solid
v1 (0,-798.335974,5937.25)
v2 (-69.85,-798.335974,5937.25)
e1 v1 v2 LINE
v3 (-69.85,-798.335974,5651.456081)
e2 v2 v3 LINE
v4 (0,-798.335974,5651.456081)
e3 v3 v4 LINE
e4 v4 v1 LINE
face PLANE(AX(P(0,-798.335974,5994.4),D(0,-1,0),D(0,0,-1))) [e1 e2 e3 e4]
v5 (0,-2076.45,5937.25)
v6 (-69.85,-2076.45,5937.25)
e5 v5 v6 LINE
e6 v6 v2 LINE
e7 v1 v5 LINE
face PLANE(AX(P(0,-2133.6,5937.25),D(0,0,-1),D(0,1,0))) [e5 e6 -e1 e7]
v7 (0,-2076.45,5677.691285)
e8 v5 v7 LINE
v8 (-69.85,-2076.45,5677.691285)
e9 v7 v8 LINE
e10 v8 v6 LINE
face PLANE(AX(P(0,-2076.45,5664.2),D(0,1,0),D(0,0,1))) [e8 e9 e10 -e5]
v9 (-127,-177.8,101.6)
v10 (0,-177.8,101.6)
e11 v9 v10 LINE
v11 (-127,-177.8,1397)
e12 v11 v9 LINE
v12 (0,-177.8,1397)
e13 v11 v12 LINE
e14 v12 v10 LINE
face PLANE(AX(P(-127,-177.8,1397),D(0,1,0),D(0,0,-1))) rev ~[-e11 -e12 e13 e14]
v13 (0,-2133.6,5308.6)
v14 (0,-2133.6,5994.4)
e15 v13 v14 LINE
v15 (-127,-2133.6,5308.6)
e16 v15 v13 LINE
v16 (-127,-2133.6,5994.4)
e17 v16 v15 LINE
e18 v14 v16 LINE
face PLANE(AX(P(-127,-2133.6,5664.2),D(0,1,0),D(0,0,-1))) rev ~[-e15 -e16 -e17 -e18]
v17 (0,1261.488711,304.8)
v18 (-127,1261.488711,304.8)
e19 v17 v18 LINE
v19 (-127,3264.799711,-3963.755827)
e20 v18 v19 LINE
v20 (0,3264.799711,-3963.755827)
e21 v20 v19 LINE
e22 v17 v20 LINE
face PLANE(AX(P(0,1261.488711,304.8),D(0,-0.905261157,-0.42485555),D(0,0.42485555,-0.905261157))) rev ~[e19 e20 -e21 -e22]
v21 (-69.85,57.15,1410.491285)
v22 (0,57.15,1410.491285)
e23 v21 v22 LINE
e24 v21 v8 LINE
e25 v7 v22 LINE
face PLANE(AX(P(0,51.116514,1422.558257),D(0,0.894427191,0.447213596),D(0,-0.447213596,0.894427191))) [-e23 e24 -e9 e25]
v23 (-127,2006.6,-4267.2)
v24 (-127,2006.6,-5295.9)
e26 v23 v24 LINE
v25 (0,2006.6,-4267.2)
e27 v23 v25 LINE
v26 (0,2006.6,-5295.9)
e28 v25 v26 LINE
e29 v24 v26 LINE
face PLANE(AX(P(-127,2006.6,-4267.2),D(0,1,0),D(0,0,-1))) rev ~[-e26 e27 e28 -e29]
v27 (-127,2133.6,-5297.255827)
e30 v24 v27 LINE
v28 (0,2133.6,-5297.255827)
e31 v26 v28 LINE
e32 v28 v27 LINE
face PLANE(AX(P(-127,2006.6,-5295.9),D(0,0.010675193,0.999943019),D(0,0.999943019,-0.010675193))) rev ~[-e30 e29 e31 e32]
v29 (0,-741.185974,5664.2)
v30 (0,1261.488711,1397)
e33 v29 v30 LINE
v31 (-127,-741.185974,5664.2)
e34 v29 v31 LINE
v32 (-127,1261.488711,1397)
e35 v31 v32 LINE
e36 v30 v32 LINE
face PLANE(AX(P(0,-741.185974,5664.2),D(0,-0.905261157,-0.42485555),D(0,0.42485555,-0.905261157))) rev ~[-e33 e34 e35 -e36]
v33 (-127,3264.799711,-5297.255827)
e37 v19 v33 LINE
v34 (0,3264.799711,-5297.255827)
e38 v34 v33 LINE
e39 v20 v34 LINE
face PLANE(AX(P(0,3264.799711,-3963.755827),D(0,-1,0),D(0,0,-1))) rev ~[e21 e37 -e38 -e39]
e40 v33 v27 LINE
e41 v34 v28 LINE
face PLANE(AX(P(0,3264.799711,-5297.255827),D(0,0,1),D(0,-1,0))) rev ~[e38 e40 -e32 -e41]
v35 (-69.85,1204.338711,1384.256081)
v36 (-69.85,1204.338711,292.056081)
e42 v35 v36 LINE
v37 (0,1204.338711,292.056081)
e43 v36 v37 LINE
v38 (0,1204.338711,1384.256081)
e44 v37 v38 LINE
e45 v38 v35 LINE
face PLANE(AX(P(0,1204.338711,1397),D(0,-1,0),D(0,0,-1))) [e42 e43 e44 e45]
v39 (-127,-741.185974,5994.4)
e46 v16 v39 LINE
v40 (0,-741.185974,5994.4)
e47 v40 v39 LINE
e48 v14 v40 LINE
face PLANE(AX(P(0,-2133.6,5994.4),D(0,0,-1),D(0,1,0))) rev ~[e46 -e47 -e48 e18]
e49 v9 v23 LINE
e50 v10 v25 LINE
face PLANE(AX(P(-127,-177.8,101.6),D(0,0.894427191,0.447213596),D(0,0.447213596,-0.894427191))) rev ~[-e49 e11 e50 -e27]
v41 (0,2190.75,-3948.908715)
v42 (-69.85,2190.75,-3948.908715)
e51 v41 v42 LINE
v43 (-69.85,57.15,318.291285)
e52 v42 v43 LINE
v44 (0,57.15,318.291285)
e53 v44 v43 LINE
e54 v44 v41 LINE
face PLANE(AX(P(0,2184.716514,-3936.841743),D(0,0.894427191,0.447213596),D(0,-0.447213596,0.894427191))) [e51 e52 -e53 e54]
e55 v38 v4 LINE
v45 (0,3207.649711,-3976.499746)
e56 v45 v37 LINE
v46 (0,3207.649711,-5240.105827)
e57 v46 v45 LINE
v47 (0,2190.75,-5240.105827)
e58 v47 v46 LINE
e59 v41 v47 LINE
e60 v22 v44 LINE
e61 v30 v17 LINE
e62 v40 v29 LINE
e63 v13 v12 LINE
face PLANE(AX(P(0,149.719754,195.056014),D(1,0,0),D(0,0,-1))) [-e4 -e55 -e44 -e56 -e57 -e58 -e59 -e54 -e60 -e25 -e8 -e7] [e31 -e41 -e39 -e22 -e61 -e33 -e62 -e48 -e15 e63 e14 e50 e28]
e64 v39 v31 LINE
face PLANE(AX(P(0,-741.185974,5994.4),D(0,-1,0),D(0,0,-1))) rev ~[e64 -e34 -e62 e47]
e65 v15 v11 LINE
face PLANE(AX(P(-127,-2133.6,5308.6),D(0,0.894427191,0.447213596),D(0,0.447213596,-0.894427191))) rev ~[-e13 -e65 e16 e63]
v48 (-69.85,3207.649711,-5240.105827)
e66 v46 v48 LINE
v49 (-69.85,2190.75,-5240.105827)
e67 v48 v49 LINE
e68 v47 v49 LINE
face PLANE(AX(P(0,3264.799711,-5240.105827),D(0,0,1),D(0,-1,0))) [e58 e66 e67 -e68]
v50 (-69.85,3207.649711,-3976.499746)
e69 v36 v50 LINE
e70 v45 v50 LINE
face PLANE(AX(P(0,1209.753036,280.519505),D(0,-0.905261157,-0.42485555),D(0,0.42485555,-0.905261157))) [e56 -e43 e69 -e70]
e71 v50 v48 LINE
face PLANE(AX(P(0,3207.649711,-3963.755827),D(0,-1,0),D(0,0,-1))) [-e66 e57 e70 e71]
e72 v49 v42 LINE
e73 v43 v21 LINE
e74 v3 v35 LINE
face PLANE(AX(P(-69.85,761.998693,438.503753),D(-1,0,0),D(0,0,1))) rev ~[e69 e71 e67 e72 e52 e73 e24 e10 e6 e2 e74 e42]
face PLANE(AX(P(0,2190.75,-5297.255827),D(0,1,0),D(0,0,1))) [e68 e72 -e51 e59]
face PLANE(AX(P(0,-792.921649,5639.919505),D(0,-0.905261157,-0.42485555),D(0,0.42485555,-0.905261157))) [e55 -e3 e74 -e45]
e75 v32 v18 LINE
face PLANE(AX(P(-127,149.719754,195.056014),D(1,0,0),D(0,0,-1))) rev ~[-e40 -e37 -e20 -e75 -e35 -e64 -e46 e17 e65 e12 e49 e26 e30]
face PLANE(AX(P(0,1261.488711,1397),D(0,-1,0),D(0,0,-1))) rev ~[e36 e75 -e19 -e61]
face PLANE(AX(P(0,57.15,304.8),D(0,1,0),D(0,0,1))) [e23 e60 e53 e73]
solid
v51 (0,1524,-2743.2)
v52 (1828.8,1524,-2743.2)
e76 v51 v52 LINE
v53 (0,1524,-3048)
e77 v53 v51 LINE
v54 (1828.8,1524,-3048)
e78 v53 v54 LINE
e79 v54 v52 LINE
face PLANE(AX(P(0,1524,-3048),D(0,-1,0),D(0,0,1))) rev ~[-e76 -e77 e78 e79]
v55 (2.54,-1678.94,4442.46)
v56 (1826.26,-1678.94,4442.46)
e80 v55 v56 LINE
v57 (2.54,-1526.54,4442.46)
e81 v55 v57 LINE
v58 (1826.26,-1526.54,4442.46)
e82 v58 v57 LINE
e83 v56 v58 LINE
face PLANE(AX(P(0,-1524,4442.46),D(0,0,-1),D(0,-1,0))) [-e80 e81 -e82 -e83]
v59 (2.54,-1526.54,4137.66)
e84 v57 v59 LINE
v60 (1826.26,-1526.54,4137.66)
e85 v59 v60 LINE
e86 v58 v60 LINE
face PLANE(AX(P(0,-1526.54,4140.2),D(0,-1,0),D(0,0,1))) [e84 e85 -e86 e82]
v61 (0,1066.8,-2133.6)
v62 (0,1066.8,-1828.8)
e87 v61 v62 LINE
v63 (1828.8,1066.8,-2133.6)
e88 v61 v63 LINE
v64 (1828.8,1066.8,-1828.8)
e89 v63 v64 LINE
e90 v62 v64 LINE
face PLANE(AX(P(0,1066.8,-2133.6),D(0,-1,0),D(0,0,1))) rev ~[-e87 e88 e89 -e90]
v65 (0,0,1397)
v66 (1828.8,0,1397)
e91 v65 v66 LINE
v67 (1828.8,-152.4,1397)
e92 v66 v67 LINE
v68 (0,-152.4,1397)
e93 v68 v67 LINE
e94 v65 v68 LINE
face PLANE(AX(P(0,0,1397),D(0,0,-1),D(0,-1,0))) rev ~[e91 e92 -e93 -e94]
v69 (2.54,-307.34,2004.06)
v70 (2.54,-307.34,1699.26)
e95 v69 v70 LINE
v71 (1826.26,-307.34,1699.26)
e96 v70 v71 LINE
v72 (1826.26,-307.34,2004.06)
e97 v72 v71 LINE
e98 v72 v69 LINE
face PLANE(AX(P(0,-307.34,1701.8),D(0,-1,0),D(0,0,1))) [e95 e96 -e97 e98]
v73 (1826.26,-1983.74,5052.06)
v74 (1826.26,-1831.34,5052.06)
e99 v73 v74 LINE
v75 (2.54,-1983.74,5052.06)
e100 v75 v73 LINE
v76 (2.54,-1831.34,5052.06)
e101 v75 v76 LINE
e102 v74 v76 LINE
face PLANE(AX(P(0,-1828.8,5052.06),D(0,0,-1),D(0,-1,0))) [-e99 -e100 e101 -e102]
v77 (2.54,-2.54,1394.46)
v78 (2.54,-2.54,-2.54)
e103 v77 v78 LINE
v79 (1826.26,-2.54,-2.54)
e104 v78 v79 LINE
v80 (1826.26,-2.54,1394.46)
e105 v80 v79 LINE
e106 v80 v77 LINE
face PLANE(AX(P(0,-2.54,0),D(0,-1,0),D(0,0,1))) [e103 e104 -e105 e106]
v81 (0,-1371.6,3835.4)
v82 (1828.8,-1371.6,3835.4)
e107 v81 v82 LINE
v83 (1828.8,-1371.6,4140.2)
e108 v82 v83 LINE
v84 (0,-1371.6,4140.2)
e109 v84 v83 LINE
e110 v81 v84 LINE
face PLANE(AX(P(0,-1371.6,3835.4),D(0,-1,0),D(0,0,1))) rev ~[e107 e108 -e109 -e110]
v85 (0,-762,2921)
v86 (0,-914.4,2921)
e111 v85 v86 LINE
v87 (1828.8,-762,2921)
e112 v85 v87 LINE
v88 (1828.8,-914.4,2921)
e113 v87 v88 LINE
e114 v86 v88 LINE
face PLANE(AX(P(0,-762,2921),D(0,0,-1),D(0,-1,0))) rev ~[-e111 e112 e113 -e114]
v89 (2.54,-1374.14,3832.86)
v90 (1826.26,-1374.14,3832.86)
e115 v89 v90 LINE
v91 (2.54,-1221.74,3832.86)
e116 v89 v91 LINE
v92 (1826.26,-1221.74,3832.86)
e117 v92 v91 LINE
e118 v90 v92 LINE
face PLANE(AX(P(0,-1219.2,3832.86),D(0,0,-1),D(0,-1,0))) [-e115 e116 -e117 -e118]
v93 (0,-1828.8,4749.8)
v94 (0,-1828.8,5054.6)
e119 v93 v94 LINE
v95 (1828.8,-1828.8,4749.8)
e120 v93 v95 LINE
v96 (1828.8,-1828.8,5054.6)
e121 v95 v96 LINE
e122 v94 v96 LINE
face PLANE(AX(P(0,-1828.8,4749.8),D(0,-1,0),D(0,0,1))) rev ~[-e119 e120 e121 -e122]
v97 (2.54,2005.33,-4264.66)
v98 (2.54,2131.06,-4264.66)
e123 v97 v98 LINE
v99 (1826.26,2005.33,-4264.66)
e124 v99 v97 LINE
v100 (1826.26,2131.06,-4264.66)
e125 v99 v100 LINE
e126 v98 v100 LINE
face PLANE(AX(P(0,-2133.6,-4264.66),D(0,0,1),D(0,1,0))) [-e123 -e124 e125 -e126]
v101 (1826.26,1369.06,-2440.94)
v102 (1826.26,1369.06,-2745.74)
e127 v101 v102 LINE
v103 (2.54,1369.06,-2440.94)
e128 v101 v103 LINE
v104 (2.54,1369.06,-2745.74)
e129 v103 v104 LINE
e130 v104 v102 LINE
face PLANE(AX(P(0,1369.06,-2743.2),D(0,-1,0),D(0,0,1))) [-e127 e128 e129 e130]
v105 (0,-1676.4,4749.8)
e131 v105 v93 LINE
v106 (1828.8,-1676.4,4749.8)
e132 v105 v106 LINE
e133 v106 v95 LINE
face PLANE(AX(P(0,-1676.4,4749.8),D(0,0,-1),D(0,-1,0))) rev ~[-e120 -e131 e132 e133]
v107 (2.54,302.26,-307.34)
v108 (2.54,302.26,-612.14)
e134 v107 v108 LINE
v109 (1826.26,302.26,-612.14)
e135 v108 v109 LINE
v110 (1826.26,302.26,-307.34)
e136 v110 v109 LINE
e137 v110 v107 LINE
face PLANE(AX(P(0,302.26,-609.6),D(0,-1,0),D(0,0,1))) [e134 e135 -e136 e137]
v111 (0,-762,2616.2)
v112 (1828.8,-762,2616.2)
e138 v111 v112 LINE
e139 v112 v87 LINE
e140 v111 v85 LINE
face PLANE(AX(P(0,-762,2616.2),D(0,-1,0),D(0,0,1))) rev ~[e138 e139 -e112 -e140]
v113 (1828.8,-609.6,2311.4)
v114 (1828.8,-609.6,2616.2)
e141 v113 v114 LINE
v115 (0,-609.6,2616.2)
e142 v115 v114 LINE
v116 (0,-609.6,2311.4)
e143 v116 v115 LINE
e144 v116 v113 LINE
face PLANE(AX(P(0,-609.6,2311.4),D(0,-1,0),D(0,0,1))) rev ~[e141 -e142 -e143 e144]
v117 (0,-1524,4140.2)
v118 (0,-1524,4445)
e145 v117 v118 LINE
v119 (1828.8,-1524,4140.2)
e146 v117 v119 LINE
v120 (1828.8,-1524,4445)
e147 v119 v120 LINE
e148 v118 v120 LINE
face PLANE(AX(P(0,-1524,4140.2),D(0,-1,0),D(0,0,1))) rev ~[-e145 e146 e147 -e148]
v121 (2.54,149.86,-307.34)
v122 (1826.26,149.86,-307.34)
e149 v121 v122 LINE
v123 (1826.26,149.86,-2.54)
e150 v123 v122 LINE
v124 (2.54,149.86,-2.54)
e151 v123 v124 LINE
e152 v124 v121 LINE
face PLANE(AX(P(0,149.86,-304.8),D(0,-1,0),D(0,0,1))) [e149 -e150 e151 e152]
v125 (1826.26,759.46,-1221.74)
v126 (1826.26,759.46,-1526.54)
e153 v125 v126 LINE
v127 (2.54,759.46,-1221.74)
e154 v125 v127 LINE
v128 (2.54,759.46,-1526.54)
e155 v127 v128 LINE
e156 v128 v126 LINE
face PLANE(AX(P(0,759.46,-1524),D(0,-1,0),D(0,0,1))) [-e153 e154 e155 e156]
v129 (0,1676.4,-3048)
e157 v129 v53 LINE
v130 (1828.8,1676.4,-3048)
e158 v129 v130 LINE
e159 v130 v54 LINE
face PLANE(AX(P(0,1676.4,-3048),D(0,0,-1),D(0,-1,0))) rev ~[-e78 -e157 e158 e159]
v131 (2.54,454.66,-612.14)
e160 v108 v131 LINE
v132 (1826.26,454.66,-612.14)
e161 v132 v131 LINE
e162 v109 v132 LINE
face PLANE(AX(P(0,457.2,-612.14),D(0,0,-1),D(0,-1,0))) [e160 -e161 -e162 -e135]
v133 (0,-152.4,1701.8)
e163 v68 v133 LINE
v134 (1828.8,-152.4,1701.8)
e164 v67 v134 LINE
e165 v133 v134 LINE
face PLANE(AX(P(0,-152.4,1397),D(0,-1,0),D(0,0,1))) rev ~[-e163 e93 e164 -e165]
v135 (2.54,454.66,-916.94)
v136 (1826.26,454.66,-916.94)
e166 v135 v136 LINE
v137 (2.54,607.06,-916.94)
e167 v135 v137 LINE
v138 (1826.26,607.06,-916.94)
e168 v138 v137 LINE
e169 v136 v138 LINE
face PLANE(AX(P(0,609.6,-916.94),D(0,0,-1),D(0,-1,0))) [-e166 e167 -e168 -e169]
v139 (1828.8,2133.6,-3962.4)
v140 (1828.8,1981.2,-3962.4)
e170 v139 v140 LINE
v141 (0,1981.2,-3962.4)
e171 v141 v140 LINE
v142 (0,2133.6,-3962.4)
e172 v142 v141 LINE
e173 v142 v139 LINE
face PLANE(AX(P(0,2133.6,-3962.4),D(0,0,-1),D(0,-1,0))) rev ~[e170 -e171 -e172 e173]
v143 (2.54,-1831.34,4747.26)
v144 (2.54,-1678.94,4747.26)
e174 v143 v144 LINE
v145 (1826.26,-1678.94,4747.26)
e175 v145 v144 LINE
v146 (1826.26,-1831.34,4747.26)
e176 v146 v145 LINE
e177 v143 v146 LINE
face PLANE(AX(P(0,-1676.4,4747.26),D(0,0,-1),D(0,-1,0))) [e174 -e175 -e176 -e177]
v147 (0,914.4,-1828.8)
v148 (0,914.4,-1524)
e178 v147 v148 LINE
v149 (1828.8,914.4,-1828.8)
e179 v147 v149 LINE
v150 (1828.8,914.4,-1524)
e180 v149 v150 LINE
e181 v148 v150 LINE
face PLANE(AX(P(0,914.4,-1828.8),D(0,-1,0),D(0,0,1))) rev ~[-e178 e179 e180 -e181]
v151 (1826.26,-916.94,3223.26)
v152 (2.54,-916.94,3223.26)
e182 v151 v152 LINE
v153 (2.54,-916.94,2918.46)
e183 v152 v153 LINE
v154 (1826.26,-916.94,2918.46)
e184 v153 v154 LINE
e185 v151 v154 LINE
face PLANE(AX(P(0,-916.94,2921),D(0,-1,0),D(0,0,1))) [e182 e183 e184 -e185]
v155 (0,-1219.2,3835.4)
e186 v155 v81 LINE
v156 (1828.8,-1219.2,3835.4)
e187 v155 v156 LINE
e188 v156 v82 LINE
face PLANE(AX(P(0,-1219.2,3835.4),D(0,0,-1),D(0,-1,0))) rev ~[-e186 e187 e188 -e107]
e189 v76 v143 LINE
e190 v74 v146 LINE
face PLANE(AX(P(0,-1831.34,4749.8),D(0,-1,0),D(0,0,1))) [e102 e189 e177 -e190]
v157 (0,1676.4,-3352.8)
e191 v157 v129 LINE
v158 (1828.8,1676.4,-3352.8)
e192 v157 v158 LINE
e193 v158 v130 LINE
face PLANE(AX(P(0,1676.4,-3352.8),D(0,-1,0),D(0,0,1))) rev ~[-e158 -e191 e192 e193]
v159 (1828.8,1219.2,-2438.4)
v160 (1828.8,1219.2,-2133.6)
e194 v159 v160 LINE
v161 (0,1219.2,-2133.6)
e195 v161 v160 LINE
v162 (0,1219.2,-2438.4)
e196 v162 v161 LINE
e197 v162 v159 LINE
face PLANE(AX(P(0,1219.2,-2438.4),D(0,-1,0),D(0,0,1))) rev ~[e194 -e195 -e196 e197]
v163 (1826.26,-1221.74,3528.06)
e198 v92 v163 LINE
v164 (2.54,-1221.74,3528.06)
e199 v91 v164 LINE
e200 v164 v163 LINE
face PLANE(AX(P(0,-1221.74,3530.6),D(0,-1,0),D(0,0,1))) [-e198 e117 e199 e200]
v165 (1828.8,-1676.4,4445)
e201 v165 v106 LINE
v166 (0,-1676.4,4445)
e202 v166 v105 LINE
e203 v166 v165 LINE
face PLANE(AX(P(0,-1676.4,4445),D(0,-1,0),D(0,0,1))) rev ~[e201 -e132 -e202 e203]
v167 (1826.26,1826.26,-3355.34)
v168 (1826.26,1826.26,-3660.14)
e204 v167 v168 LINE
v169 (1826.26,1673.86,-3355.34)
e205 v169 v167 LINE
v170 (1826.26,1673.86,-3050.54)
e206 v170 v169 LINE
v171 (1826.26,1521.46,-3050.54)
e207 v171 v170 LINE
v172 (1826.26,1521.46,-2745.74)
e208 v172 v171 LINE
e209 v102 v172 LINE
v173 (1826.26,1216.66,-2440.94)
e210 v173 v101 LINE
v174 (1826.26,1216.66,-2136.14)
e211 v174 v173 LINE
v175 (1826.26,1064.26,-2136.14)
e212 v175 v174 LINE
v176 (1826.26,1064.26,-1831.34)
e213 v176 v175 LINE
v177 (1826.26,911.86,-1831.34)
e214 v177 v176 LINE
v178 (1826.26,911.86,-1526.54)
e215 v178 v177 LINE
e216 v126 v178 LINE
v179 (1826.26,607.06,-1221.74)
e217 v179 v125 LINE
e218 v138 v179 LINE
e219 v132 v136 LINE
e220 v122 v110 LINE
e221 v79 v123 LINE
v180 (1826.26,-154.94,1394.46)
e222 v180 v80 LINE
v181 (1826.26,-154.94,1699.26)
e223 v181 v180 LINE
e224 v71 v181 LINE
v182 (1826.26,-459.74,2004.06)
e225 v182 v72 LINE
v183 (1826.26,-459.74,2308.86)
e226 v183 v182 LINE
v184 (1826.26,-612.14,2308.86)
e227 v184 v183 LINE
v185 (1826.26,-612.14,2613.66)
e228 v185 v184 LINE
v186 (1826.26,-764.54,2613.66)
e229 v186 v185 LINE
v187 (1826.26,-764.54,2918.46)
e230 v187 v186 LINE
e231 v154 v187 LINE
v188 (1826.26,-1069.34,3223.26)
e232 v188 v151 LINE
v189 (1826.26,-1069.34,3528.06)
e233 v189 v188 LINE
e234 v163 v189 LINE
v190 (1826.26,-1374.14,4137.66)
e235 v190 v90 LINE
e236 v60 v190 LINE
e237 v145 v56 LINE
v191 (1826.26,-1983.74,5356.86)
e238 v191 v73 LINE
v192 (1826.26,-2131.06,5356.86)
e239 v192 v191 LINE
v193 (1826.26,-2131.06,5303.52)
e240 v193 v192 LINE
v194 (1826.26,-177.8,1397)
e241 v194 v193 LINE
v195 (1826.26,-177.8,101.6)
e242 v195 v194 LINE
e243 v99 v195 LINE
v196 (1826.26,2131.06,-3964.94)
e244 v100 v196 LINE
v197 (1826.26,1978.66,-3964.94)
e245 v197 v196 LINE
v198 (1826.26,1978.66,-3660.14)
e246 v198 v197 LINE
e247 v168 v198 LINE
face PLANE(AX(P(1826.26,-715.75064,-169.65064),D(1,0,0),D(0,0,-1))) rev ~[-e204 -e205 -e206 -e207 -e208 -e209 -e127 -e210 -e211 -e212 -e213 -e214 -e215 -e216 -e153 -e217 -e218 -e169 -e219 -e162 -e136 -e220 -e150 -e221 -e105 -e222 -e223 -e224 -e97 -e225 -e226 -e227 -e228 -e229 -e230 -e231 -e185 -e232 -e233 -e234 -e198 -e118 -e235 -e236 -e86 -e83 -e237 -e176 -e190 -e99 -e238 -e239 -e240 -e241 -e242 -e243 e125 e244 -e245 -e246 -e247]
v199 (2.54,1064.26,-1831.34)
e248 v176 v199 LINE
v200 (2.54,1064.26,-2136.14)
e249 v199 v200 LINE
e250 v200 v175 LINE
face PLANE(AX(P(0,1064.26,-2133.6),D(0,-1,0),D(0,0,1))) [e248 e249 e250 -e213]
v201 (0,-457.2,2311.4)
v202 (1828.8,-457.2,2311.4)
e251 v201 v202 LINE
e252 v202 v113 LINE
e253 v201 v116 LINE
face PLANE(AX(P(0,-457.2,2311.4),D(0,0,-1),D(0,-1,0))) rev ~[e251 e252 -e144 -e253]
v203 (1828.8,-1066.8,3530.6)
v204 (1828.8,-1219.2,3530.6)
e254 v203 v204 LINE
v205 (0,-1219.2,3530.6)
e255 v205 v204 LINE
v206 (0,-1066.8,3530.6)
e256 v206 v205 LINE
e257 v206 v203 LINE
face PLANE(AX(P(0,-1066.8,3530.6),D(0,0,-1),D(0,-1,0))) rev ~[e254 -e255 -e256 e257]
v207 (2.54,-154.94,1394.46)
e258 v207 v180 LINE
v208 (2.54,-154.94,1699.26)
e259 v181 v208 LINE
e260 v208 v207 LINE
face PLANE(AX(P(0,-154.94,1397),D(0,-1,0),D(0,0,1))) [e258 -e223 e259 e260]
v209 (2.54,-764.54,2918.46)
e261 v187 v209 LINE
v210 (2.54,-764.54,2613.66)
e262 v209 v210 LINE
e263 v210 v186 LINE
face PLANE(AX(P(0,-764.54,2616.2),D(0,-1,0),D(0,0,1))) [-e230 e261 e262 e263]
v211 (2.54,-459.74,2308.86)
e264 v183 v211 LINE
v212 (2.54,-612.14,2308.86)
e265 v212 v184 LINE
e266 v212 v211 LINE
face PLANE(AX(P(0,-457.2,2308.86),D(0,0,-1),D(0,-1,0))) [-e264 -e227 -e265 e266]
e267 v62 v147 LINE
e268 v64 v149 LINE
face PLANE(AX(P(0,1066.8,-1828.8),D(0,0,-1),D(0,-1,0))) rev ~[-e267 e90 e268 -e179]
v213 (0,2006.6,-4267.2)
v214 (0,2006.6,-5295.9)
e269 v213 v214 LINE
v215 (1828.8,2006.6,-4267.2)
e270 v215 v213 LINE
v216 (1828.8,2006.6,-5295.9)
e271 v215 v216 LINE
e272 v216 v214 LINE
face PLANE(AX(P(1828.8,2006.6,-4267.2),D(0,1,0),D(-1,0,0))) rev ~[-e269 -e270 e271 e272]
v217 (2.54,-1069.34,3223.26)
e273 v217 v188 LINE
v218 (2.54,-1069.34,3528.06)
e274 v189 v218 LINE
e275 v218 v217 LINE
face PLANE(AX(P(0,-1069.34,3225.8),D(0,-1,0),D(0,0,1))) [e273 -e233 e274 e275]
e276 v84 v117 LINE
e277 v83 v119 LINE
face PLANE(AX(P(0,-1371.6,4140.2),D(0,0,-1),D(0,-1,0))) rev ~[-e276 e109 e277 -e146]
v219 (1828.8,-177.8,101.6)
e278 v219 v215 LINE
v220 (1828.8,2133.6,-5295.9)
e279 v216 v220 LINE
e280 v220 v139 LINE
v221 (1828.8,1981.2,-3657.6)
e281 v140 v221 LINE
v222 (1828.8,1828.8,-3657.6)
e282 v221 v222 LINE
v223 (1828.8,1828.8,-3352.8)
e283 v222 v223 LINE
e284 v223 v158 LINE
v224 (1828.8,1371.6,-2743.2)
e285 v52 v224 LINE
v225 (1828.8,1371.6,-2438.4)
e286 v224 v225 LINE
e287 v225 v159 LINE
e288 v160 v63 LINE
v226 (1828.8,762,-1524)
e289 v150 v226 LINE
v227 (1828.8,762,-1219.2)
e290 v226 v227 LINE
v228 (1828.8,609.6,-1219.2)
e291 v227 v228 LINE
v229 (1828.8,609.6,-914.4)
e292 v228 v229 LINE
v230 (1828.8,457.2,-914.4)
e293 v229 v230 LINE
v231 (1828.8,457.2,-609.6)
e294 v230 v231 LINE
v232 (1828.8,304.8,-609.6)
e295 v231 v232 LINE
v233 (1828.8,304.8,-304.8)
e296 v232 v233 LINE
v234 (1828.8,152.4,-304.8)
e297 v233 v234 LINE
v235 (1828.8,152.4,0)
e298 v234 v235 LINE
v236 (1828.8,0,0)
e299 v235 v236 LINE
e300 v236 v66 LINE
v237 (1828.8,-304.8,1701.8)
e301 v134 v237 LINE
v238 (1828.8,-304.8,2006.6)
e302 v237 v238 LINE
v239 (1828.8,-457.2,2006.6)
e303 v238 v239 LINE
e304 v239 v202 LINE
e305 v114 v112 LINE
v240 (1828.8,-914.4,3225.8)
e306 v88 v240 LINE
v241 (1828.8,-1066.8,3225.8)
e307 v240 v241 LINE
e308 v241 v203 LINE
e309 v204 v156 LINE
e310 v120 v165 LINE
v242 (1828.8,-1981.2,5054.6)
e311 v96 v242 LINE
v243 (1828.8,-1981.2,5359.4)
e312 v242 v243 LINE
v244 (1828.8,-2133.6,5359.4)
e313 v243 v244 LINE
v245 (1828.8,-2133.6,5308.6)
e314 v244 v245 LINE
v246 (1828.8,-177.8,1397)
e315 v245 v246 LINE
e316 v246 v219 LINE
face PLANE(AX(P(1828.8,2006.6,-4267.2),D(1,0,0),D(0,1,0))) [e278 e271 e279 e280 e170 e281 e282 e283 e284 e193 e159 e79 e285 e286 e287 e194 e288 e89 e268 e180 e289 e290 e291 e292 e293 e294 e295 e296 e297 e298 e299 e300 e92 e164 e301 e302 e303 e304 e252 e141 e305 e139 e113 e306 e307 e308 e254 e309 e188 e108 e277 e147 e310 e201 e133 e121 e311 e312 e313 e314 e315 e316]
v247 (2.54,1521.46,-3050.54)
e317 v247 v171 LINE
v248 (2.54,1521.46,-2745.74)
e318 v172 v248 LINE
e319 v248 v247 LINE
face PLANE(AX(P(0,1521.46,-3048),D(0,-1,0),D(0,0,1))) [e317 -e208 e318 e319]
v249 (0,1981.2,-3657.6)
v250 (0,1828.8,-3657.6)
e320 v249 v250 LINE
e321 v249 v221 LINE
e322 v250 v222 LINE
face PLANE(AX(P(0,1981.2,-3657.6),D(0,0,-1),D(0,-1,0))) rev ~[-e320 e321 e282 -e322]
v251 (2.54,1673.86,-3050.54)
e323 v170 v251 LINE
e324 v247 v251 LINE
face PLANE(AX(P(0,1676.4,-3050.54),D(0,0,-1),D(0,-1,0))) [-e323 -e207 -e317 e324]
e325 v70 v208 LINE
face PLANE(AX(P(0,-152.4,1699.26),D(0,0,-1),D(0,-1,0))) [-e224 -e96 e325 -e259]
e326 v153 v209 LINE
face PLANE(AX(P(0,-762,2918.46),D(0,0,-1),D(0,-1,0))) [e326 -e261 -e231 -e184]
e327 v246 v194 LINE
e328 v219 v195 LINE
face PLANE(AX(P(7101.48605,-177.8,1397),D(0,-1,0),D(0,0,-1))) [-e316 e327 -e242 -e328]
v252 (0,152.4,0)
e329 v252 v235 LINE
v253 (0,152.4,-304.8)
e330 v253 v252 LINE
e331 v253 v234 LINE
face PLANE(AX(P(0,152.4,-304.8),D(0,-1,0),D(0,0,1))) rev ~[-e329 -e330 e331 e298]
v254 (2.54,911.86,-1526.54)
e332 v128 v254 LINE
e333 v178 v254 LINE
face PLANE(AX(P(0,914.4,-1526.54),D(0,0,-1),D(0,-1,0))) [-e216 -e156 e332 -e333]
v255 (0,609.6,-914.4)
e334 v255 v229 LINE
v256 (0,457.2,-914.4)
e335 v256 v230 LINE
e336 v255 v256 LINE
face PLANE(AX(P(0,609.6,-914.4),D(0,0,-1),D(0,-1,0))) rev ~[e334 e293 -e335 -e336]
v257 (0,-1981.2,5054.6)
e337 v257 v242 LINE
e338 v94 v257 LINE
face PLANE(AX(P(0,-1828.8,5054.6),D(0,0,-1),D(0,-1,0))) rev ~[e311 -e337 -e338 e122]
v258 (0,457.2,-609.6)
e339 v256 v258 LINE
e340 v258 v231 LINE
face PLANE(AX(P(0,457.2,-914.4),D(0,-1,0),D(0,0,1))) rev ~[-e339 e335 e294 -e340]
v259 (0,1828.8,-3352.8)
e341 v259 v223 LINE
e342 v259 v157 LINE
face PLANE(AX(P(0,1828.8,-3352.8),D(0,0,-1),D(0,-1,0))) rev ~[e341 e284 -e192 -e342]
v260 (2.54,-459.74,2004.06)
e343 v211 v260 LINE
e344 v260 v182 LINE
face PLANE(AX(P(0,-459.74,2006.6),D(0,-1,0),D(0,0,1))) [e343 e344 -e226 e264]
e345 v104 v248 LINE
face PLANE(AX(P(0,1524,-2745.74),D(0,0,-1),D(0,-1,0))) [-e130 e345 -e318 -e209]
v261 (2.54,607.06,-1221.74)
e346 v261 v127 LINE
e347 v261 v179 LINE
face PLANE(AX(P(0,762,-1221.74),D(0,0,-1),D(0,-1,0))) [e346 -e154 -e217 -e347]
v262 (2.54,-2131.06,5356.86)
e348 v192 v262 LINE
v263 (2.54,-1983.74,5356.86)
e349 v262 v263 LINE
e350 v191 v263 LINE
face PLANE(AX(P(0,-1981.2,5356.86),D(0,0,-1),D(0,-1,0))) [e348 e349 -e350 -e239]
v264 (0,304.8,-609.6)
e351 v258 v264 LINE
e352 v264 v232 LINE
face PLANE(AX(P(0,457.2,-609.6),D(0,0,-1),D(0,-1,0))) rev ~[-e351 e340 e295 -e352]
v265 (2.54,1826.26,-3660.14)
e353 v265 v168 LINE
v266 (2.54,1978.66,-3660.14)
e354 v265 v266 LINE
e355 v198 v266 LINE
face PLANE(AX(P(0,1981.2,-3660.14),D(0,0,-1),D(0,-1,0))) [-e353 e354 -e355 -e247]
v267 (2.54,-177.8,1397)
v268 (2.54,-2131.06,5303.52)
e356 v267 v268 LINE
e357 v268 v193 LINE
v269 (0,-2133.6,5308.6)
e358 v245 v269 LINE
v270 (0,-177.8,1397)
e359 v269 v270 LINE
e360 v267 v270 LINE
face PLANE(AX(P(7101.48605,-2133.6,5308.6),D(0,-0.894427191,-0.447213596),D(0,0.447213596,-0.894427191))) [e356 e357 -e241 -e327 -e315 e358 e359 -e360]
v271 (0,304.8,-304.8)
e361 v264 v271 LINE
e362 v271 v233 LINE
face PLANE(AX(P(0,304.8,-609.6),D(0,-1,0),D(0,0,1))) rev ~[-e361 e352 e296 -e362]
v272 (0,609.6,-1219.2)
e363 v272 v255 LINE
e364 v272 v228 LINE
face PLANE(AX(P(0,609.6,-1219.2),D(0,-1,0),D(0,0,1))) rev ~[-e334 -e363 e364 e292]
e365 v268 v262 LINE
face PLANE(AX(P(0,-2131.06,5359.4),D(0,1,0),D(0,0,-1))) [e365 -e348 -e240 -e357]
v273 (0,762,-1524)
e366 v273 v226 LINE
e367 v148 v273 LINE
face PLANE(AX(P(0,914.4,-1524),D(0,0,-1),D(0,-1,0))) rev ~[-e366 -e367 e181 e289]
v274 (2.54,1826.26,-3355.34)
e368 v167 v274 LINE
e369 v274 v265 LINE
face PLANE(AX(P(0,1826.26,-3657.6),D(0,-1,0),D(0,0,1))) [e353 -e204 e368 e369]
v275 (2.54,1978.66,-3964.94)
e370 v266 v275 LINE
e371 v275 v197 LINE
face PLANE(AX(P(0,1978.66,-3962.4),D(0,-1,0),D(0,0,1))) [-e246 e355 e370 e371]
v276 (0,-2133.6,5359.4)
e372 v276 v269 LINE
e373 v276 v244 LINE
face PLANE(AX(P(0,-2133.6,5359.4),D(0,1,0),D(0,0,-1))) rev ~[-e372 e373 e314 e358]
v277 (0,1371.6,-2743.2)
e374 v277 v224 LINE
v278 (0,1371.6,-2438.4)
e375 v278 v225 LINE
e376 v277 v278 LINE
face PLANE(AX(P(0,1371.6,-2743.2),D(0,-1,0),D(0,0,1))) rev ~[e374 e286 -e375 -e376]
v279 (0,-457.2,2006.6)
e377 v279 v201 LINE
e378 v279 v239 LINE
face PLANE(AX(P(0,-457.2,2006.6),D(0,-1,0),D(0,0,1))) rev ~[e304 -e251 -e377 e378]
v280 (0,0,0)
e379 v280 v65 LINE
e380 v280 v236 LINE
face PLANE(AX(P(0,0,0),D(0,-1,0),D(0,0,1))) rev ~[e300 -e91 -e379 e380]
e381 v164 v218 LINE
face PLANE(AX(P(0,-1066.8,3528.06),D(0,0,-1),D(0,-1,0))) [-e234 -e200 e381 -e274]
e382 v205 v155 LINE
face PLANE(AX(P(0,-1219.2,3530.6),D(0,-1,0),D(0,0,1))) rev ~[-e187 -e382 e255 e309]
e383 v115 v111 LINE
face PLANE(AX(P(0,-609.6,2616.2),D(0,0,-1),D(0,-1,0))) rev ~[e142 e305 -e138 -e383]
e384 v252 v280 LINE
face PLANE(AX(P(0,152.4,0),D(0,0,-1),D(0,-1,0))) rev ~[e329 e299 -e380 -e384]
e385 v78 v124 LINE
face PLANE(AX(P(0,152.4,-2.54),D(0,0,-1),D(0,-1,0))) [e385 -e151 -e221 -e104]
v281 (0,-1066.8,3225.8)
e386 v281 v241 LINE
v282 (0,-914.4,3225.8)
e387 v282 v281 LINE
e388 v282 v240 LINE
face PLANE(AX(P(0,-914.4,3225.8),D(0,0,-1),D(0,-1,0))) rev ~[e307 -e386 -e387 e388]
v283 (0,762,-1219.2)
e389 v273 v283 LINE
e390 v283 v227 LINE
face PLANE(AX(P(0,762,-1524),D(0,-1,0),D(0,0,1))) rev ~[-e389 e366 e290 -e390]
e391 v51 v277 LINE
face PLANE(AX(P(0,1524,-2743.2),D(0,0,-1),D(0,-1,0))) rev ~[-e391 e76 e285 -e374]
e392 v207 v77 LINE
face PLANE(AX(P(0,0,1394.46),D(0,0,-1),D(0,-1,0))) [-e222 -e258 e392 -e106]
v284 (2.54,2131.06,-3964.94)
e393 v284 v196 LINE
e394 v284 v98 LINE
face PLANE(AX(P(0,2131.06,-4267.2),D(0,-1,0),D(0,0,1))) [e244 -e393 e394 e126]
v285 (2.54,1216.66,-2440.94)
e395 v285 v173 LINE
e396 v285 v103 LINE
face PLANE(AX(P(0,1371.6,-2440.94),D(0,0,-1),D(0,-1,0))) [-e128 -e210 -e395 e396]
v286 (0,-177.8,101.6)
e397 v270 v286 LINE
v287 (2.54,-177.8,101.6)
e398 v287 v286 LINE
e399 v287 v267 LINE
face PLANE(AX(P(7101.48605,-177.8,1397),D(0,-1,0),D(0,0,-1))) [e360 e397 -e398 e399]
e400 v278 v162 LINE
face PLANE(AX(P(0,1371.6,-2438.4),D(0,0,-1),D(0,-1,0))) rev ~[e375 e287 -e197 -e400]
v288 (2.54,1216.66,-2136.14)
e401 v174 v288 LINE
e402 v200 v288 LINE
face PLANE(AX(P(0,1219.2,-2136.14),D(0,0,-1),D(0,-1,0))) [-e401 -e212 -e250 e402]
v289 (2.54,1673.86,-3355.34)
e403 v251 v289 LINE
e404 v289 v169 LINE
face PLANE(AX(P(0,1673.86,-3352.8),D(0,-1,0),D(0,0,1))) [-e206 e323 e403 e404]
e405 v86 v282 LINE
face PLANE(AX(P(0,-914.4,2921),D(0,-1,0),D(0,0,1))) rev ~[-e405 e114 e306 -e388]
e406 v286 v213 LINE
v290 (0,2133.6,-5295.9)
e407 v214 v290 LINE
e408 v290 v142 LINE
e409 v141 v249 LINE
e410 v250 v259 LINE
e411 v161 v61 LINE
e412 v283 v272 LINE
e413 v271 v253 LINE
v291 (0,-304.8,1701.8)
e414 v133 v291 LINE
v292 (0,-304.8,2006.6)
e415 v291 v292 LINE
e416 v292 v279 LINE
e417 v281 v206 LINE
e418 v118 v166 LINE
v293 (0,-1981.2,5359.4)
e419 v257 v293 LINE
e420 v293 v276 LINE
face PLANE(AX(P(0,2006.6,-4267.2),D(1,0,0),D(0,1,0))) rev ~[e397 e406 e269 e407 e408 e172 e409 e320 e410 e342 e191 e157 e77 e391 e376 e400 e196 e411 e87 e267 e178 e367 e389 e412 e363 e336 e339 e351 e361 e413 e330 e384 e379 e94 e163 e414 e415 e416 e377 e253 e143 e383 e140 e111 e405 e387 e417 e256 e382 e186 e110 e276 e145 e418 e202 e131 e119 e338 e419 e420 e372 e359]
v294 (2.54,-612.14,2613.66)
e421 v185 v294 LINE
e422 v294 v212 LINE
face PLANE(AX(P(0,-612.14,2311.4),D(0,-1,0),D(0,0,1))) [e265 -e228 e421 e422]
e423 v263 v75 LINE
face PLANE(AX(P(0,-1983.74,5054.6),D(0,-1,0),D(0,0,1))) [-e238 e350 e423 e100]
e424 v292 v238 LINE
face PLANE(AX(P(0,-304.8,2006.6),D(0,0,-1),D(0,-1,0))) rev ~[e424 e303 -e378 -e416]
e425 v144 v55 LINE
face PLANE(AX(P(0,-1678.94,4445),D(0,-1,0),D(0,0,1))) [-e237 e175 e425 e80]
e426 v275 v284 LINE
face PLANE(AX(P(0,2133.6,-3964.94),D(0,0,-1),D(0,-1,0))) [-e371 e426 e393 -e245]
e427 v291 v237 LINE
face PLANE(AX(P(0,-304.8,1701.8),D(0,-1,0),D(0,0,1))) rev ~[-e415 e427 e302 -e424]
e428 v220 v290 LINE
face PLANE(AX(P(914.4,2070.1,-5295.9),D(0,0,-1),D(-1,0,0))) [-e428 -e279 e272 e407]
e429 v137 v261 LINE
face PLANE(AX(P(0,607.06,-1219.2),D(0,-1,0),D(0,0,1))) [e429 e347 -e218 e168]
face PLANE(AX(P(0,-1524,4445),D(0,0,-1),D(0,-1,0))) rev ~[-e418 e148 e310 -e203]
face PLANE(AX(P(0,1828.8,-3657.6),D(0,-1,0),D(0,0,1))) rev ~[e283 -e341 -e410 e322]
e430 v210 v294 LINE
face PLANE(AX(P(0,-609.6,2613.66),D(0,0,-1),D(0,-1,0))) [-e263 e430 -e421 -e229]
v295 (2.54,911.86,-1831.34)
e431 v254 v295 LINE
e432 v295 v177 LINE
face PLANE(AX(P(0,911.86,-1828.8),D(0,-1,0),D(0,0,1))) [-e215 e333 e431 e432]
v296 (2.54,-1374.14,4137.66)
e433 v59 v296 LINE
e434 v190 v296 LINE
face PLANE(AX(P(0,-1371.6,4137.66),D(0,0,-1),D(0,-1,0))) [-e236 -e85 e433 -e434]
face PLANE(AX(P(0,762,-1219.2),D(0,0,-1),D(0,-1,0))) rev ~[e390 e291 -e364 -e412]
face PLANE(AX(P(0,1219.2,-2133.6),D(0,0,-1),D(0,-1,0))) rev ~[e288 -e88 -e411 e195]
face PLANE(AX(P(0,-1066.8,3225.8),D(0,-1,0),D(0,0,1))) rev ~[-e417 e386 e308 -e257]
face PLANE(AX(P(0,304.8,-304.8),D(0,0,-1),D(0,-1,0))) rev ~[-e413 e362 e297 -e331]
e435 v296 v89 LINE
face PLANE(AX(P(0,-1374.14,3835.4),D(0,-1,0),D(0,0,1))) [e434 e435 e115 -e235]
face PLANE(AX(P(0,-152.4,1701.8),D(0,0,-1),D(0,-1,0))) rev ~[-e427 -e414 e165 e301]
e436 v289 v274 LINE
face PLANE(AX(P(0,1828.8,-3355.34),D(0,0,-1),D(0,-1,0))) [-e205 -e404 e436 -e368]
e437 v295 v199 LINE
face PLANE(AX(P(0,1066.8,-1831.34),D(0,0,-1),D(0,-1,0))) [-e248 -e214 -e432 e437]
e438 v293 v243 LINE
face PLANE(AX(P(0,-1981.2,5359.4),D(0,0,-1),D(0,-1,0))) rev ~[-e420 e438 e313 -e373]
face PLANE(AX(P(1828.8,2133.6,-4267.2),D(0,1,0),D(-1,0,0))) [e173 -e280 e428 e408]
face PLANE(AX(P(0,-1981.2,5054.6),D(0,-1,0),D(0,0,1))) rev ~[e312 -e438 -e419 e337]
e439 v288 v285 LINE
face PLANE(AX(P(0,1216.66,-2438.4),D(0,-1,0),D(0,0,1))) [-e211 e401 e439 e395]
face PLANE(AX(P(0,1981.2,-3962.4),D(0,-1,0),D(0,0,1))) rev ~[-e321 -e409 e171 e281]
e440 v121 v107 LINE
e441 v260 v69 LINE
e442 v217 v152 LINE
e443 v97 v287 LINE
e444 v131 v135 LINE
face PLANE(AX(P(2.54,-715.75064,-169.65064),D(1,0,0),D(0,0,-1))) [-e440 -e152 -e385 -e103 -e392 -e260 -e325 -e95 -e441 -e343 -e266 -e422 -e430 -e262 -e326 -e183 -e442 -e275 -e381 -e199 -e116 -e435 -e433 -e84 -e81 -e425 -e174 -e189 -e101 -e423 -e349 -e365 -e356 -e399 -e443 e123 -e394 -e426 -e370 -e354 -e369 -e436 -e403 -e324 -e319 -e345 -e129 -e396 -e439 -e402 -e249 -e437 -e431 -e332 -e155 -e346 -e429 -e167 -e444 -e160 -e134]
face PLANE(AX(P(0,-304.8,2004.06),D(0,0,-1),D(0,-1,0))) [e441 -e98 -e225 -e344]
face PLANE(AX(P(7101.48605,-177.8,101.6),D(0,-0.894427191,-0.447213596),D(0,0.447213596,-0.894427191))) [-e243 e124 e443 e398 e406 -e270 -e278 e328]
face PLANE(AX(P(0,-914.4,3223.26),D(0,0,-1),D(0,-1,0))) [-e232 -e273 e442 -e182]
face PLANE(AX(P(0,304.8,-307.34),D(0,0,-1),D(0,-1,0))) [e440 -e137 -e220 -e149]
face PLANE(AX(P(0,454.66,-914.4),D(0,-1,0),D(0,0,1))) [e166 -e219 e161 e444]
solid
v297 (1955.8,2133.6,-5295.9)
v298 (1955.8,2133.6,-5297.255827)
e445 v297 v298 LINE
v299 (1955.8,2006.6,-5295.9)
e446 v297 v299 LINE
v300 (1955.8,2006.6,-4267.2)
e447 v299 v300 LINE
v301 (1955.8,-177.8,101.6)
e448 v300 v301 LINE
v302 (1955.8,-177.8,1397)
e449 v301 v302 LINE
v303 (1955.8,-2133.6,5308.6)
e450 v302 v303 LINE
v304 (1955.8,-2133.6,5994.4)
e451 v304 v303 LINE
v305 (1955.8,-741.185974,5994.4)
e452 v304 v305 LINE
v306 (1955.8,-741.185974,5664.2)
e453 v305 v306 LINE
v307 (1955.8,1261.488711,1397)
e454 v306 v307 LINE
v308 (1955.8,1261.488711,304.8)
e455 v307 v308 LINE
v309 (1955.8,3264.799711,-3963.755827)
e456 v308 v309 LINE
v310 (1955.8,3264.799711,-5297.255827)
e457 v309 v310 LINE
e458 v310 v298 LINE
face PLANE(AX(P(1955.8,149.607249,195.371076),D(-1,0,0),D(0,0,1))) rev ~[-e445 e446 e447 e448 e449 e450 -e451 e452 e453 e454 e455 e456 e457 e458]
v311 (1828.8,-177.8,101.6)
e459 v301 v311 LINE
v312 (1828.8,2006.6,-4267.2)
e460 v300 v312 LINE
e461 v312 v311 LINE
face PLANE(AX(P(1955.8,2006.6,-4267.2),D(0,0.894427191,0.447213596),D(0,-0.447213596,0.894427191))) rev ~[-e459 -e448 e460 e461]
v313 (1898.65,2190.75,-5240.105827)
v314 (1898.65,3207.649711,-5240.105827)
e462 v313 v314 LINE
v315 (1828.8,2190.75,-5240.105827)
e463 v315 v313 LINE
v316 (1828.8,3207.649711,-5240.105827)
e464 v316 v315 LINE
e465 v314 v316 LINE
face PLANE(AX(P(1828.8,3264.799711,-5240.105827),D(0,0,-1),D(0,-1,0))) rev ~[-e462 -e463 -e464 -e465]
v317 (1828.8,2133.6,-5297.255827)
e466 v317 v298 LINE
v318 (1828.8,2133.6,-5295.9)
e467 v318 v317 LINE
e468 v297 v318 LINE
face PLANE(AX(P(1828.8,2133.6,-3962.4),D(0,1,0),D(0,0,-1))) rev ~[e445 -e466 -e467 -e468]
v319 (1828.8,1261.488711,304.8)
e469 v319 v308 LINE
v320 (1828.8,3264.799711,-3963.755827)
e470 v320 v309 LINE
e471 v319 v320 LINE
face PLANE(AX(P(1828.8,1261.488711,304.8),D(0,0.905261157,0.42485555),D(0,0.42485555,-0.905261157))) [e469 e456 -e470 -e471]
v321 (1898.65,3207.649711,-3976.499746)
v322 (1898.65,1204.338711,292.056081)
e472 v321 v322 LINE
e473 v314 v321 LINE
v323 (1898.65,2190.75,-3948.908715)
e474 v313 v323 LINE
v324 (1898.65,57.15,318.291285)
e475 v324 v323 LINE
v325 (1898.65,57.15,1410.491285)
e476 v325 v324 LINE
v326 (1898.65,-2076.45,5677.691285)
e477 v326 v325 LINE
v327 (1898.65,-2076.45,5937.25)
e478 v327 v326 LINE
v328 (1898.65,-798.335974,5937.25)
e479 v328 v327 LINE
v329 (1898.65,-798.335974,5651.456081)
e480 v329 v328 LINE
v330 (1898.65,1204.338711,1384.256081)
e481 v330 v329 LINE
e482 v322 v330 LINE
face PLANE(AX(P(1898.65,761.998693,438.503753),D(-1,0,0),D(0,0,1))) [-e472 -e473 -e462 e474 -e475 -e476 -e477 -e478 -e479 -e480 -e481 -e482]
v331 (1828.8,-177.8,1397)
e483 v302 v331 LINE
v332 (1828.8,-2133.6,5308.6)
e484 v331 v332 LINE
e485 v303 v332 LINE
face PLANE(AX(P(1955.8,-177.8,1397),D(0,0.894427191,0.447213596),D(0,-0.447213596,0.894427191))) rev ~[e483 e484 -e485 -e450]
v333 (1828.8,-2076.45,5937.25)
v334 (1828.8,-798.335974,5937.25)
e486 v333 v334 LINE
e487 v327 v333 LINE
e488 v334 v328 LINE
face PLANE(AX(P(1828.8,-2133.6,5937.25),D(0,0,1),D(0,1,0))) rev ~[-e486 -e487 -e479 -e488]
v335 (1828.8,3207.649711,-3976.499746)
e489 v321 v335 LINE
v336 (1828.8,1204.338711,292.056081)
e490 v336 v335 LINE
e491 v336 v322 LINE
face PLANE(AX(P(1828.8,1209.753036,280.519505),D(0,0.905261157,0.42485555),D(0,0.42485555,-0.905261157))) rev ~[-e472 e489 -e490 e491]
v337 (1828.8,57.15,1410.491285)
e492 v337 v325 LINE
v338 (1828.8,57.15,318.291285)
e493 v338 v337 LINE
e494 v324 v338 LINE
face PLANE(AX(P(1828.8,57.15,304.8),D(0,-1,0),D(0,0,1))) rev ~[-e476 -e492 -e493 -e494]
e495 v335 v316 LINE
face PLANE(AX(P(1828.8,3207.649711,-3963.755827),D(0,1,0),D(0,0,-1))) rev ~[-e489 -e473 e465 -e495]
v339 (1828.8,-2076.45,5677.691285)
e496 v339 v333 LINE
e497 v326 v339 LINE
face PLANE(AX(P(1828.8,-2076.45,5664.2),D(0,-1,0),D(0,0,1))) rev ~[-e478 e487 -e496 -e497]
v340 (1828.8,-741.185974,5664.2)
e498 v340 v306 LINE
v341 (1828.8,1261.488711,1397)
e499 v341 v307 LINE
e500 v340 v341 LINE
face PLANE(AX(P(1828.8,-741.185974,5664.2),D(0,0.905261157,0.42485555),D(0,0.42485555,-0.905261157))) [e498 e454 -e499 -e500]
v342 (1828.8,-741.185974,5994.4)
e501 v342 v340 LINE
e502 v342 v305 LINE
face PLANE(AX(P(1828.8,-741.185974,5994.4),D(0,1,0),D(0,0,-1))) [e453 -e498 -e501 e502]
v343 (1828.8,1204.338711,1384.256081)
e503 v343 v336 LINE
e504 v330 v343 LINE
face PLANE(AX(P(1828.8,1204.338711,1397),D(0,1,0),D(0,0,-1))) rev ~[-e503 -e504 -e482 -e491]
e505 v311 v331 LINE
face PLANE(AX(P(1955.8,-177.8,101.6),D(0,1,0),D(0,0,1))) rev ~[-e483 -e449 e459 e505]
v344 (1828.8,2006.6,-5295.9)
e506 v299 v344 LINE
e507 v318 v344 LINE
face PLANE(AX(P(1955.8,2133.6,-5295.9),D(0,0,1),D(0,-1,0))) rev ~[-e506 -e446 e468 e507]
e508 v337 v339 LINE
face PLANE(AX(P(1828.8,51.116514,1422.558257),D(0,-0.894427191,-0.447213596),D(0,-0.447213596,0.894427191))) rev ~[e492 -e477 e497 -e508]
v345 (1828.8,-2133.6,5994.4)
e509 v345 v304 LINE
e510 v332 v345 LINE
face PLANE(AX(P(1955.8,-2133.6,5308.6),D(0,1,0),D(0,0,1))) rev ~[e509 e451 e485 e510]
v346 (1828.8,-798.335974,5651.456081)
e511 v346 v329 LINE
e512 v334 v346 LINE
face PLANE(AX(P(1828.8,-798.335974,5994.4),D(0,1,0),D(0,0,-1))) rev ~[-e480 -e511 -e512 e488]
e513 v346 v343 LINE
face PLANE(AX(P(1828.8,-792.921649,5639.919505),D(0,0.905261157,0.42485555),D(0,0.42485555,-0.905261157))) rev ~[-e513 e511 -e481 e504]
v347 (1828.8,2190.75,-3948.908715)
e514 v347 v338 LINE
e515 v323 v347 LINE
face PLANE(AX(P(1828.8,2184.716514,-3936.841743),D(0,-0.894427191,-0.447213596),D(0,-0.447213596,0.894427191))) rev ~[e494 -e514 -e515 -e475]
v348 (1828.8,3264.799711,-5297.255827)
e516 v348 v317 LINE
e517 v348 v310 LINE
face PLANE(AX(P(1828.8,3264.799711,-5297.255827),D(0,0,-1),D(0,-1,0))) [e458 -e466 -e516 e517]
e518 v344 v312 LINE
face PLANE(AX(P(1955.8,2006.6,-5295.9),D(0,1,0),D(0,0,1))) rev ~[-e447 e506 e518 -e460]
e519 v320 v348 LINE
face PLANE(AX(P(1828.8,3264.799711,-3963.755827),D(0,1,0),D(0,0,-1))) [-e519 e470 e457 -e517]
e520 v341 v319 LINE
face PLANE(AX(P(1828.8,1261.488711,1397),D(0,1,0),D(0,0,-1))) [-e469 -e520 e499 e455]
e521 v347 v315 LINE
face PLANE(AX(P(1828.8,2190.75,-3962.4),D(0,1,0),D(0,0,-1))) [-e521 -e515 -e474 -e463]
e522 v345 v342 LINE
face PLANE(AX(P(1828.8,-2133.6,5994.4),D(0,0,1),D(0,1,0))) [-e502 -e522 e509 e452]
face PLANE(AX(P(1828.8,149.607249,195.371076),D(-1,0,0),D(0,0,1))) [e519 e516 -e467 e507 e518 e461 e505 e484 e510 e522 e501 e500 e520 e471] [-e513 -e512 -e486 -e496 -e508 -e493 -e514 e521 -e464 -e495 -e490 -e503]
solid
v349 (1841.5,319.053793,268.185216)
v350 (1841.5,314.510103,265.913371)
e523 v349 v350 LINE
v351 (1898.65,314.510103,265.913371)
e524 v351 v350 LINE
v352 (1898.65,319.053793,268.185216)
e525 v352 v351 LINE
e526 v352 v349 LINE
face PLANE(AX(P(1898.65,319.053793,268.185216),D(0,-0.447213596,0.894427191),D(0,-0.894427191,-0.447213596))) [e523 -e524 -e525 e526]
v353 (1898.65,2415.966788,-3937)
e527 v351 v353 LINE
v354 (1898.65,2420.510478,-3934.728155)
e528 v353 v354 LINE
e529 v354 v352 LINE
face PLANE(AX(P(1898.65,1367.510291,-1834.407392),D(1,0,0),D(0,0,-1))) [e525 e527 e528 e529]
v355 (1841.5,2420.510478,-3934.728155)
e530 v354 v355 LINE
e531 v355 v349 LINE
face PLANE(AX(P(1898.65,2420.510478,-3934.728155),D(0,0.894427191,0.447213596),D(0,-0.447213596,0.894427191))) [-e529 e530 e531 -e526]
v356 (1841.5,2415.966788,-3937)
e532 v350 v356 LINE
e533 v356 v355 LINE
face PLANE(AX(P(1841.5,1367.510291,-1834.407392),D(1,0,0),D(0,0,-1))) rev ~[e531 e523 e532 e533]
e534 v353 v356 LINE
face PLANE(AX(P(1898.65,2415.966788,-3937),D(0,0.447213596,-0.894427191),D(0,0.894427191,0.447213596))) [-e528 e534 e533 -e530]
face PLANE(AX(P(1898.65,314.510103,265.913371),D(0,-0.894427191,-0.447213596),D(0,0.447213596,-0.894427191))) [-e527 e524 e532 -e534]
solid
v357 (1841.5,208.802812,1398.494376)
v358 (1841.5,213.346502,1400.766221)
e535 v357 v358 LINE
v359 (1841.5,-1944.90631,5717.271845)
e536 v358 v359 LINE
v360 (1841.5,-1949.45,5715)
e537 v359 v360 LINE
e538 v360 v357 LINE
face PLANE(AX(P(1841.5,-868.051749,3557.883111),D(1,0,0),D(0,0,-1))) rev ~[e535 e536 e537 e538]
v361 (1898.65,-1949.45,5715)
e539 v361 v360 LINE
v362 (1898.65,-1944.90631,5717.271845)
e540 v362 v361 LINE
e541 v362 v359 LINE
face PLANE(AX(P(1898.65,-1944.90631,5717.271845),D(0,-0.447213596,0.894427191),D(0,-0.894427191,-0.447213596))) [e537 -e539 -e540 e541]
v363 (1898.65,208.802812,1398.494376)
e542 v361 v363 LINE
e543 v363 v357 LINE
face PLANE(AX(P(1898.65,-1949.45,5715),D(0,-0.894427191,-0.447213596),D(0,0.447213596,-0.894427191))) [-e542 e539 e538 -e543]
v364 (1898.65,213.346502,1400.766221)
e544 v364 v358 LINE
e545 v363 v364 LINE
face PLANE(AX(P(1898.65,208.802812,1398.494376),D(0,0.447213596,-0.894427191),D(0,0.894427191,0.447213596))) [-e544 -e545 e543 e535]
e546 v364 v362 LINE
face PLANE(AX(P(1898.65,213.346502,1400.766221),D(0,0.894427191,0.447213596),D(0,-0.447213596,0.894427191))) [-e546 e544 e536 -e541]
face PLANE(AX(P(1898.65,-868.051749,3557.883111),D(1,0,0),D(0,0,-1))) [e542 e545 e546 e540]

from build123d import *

# Parameters (mm, degrees)
BOSS_EXTRUDE1_DEPTH     = 1828.8
BOSS_EXTRUDE4_DEPTH     = 127
BOSS_EXTRUDE15_DEPTH    = 127
CUT_EXTRUDE2_DEPTH      = 7101.486050415
CUT_EXTRUDE2_DEPTH_BACK = 7101.486050415
SHELL1_T                = -2.54
SKETCH11_W              = 1828.8
SKETCH11_H              = 127
BOSS_EXTRUDE16_DEPTH    = 1028.7
SHELL2_T                = -57.15
SHELL3_T                = -57.15
BOSS_EXTRUDE20_DEPTH    = 127
BOSS_EXTRUDE21_DEPTH    = 127
BOSS_EXTRUDE22_DEPTH    = 57.15
BOSS_EXTRUDE22_2_DEPTH  = 57.15


with BuildPart() as part:
    # Sketch1 → Boss-Extrude1 (new body)
    with BuildSketch(Plane(origin=(0, 0, 0), x_dir=(0, 0, -1), z_dir=(1, 0, 0))):
        Polygon((4267.2, -2133.6), (4267.2, 0), (4267.2, 2133.6), (3962.4, 2133.6), (3962.4, 1981.2), (3657.6, 1981.2), (3657.6, 1828.8), (3352.8, 1828.8), (3352.8, 1676.4), (3048, 1676.4), (3048, 1524), (2743.2, 1524), (2743.2, 1371.6), (2438.4, 1371.6), (2438.4, 1219.2), (2133.6, 1219.2), (2133.6, 1066.8), (1828.8, 1066.8), (1828.8, 914.4), (1524, 914.4), (1524, 762), (1219.2, 762), (1219.2, 609.6), (914.4, 609.6), (914.4, 457.2), (609.6, 457.2), (609.6, 304.8), (304.8, 304.8), (304.8, 152.4), (0, 152.4), (0, 0), (-1397, 0), (-1397, -152.4), (-1701.8, -152.4), (-1701.8, -304.8), (-2006.6, -304.8), (-2006.6, -457.2), (-2311.4, -457.2), (-2311.4, -609.6), (-2616.2, -609.6), (-2616.2, -762), (-2921, -762), (-2921, -914.4), (-3225.8, -914.4), (-3225.8, -1066.8), (-3530.6, -1066.8), (-3530.6, -1219.2), (-3835.4, -1219.2), (-3835.4, -1371.6), (-4140.2, -1371.6), (-4140.2, -1524), (-4445, -1524), (-4445, -1676.4), (-4749.8, -1676.4), (-4749.8, -1828.8), (-5054.6, -1828.8), (-5054.6, -1981.2), (-5359.4, -1981.2), (-5359.4, -2133.6), align=None)
    extrude(amount=BOSS_EXTRUDE1_DEPTH)

    # Sketch10 → Cut-Extrude2 (cut, two sides: drawn at the far end of the back side and taken through both)
    with BuildSketch(Plane.ZY.offset(-CUT_EXTRUDE2_DEPTH_BACK)):
        Polygon((-4267.2, 2006.6), (-4267.2, -2133.6), (5308.6, -2133.6), (1397, -177.8), (101.6, -177.8), align=None)
    extrude(amount=CUT_EXTRUDE2_DEPTH + CUT_EXTRUDE2_DEPTH_BACK, mode=Mode.SUBTRACT)

    # Shell1
    shell1_openings = [part.faces().sort_by_distance(p)[0] for p in [
        (914.4, 914.4, -2082.8),
        (914.4, -177.8, 749.3),
        (914.4, -1155.7, 3352.8),
    ]]
    offset(amount=SHELL1_T, openings=shell1_openings, kind=Kind.INTERSECTION)

    # Sketch11 → Boss-Extrude16 (add)
    with BuildSketch(Plane(origin=(0, 0, -4267.2), x_dir=(-1, 0, 0), z_dir=(0, 0, -1))):
        with Locations((-914.4, 2070.1)):
            Rectangle(SKETCH11_W, SKETCH11_H)
    extrude(amount=BOSS_EXTRUDE16_DEPTH)


with BuildPart() as body_2:
    # Sketch3 → Boss-Extrude4 (new body)
    with BuildSketch(Plane(origin=(1828.8, 0, 0), x_dir=(0, 0, -1), z_dir=(1, 0, 0))):
        Polygon((-5994.4, -741.185974285), (-5664.2, -741.185974285), (-1397, 1261.4887112), (-304.8, 1261.4887112), (3963.755826751, 3264.799710876), (5297.255826751, 3264.799710876), (5297.255826751, 2133.6), (4267.2, 2133.6), (3962.4, 2133.6), (-304.8, 0), (-1397, 0), (-5664.2, -2133.6), (-5994.4, -2133.6), align=None)
    extrude(amount=BOSS_EXTRUDE4_DEPTH)

    # Shell2
    shell2_openings = [body_2.faces().sort_by_distance(p)[0] for p in [
        (1828.8, 730.093420749, 560.935464683),
    ]]
    offset(amount=SHELL2_T, openings=shell2_openings, kind=Kind.INTERSECTION)

    # Sketch17 → Boss-Extrude20 (add)
    with BuildSketch(Plane(origin=(1955.8, 0, 0), x_dir=(0, 0, -1), z_dir=(1, 0, 0))):
        Polygon((5295.9, 2133.6), (5295.9, 2006.6), (4267.2, 2006.6), (-101.6, -177.8), (-1397, -177.8), (-5308.6, -2133.6), (-5664.2, -2133.6), (-1397, 0), (-304.8, 0), (3962.4, 2133.6), align=None)
    extrude(amount=-BOSS_EXTRUDE20_DEPTH)


with BuildPart() as body_3:
    # Sketch4 → Boss-Extrude15 (new body)
    with BuildSketch(Plane.ZY):
        Polygon((-3962.4, 2133.6), (304.8, 0), (1397, 0), (5664.2, -2133.6), (5994.4, -2133.6), (5994.4, -741.185974285), (5664.2, -741.185974285), (1397, 1261.4887112), (304.8, 1261.4887112), (-3963.755826751, 3264.799710876), (-5297.255826751, 3264.799710876), (-5297.255826751, 2133.6), align=None)
    extrude(amount=BOSS_EXTRUDE15_DEPTH)

    # Shell3
    shell3_openings = [body_3.faces().sort_by_distance(p)[0] for p in [
        (0, 730.093420749, 560.935464683),
    ]]
    offset(amount=SHELL3_T, openings=shell3_openings, kind=Kind.INTERSECTION)

    # Sketch20 → Boss-Extrude21 (add)
    with BuildSketch(Plane.ZY.offset(127)):
        Polygon((-5297.255826751, 2133.6), (-3962.4, 2133.6), (304.8, 0), (1397, 0), (5664.2, -2133.6), (5308.6, -2133.6), (1397, -177.8), (101.6, -177.8), (-4267.2, 2006.6), (-5295.9, 2006.6), align=None)
    extrude(amount=-BOSS_EXTRUDE21_DEPTH)


with BuildPart() as body_4:
    # Sketch8 → Boss-Extrude22 (new body)
    with BuildSketch(Plane.ZY.offset(-1898.65)):
        Polygon((5715, -1949.45), (1398.494376234, 208.802811883), (1400.7662213, 213.346502013), (5717.271845065, -1944.90630987), align=None)
    extrude(amount=BOSS_EXTRUDE22_DEPTH)


with BuildPart() as body_5:
    # Sketch8 → Boss-Extrude22 2 (new body)
    with BuildSketch(Plane.ZY.offset(-1898.65)):
        Polygon((265.913370509, 314.510102927), (-3937, 2415.966788181), (-3934.728154935, 2420.510478311), (268.185215574, 319.053793057), align=None)
    extrude(amount=BOSS_EXTRUDE22_2_DEPTH)


solid = Compound([part.part, body_2.part, body_3.part, body_4.part, body_5.part])
